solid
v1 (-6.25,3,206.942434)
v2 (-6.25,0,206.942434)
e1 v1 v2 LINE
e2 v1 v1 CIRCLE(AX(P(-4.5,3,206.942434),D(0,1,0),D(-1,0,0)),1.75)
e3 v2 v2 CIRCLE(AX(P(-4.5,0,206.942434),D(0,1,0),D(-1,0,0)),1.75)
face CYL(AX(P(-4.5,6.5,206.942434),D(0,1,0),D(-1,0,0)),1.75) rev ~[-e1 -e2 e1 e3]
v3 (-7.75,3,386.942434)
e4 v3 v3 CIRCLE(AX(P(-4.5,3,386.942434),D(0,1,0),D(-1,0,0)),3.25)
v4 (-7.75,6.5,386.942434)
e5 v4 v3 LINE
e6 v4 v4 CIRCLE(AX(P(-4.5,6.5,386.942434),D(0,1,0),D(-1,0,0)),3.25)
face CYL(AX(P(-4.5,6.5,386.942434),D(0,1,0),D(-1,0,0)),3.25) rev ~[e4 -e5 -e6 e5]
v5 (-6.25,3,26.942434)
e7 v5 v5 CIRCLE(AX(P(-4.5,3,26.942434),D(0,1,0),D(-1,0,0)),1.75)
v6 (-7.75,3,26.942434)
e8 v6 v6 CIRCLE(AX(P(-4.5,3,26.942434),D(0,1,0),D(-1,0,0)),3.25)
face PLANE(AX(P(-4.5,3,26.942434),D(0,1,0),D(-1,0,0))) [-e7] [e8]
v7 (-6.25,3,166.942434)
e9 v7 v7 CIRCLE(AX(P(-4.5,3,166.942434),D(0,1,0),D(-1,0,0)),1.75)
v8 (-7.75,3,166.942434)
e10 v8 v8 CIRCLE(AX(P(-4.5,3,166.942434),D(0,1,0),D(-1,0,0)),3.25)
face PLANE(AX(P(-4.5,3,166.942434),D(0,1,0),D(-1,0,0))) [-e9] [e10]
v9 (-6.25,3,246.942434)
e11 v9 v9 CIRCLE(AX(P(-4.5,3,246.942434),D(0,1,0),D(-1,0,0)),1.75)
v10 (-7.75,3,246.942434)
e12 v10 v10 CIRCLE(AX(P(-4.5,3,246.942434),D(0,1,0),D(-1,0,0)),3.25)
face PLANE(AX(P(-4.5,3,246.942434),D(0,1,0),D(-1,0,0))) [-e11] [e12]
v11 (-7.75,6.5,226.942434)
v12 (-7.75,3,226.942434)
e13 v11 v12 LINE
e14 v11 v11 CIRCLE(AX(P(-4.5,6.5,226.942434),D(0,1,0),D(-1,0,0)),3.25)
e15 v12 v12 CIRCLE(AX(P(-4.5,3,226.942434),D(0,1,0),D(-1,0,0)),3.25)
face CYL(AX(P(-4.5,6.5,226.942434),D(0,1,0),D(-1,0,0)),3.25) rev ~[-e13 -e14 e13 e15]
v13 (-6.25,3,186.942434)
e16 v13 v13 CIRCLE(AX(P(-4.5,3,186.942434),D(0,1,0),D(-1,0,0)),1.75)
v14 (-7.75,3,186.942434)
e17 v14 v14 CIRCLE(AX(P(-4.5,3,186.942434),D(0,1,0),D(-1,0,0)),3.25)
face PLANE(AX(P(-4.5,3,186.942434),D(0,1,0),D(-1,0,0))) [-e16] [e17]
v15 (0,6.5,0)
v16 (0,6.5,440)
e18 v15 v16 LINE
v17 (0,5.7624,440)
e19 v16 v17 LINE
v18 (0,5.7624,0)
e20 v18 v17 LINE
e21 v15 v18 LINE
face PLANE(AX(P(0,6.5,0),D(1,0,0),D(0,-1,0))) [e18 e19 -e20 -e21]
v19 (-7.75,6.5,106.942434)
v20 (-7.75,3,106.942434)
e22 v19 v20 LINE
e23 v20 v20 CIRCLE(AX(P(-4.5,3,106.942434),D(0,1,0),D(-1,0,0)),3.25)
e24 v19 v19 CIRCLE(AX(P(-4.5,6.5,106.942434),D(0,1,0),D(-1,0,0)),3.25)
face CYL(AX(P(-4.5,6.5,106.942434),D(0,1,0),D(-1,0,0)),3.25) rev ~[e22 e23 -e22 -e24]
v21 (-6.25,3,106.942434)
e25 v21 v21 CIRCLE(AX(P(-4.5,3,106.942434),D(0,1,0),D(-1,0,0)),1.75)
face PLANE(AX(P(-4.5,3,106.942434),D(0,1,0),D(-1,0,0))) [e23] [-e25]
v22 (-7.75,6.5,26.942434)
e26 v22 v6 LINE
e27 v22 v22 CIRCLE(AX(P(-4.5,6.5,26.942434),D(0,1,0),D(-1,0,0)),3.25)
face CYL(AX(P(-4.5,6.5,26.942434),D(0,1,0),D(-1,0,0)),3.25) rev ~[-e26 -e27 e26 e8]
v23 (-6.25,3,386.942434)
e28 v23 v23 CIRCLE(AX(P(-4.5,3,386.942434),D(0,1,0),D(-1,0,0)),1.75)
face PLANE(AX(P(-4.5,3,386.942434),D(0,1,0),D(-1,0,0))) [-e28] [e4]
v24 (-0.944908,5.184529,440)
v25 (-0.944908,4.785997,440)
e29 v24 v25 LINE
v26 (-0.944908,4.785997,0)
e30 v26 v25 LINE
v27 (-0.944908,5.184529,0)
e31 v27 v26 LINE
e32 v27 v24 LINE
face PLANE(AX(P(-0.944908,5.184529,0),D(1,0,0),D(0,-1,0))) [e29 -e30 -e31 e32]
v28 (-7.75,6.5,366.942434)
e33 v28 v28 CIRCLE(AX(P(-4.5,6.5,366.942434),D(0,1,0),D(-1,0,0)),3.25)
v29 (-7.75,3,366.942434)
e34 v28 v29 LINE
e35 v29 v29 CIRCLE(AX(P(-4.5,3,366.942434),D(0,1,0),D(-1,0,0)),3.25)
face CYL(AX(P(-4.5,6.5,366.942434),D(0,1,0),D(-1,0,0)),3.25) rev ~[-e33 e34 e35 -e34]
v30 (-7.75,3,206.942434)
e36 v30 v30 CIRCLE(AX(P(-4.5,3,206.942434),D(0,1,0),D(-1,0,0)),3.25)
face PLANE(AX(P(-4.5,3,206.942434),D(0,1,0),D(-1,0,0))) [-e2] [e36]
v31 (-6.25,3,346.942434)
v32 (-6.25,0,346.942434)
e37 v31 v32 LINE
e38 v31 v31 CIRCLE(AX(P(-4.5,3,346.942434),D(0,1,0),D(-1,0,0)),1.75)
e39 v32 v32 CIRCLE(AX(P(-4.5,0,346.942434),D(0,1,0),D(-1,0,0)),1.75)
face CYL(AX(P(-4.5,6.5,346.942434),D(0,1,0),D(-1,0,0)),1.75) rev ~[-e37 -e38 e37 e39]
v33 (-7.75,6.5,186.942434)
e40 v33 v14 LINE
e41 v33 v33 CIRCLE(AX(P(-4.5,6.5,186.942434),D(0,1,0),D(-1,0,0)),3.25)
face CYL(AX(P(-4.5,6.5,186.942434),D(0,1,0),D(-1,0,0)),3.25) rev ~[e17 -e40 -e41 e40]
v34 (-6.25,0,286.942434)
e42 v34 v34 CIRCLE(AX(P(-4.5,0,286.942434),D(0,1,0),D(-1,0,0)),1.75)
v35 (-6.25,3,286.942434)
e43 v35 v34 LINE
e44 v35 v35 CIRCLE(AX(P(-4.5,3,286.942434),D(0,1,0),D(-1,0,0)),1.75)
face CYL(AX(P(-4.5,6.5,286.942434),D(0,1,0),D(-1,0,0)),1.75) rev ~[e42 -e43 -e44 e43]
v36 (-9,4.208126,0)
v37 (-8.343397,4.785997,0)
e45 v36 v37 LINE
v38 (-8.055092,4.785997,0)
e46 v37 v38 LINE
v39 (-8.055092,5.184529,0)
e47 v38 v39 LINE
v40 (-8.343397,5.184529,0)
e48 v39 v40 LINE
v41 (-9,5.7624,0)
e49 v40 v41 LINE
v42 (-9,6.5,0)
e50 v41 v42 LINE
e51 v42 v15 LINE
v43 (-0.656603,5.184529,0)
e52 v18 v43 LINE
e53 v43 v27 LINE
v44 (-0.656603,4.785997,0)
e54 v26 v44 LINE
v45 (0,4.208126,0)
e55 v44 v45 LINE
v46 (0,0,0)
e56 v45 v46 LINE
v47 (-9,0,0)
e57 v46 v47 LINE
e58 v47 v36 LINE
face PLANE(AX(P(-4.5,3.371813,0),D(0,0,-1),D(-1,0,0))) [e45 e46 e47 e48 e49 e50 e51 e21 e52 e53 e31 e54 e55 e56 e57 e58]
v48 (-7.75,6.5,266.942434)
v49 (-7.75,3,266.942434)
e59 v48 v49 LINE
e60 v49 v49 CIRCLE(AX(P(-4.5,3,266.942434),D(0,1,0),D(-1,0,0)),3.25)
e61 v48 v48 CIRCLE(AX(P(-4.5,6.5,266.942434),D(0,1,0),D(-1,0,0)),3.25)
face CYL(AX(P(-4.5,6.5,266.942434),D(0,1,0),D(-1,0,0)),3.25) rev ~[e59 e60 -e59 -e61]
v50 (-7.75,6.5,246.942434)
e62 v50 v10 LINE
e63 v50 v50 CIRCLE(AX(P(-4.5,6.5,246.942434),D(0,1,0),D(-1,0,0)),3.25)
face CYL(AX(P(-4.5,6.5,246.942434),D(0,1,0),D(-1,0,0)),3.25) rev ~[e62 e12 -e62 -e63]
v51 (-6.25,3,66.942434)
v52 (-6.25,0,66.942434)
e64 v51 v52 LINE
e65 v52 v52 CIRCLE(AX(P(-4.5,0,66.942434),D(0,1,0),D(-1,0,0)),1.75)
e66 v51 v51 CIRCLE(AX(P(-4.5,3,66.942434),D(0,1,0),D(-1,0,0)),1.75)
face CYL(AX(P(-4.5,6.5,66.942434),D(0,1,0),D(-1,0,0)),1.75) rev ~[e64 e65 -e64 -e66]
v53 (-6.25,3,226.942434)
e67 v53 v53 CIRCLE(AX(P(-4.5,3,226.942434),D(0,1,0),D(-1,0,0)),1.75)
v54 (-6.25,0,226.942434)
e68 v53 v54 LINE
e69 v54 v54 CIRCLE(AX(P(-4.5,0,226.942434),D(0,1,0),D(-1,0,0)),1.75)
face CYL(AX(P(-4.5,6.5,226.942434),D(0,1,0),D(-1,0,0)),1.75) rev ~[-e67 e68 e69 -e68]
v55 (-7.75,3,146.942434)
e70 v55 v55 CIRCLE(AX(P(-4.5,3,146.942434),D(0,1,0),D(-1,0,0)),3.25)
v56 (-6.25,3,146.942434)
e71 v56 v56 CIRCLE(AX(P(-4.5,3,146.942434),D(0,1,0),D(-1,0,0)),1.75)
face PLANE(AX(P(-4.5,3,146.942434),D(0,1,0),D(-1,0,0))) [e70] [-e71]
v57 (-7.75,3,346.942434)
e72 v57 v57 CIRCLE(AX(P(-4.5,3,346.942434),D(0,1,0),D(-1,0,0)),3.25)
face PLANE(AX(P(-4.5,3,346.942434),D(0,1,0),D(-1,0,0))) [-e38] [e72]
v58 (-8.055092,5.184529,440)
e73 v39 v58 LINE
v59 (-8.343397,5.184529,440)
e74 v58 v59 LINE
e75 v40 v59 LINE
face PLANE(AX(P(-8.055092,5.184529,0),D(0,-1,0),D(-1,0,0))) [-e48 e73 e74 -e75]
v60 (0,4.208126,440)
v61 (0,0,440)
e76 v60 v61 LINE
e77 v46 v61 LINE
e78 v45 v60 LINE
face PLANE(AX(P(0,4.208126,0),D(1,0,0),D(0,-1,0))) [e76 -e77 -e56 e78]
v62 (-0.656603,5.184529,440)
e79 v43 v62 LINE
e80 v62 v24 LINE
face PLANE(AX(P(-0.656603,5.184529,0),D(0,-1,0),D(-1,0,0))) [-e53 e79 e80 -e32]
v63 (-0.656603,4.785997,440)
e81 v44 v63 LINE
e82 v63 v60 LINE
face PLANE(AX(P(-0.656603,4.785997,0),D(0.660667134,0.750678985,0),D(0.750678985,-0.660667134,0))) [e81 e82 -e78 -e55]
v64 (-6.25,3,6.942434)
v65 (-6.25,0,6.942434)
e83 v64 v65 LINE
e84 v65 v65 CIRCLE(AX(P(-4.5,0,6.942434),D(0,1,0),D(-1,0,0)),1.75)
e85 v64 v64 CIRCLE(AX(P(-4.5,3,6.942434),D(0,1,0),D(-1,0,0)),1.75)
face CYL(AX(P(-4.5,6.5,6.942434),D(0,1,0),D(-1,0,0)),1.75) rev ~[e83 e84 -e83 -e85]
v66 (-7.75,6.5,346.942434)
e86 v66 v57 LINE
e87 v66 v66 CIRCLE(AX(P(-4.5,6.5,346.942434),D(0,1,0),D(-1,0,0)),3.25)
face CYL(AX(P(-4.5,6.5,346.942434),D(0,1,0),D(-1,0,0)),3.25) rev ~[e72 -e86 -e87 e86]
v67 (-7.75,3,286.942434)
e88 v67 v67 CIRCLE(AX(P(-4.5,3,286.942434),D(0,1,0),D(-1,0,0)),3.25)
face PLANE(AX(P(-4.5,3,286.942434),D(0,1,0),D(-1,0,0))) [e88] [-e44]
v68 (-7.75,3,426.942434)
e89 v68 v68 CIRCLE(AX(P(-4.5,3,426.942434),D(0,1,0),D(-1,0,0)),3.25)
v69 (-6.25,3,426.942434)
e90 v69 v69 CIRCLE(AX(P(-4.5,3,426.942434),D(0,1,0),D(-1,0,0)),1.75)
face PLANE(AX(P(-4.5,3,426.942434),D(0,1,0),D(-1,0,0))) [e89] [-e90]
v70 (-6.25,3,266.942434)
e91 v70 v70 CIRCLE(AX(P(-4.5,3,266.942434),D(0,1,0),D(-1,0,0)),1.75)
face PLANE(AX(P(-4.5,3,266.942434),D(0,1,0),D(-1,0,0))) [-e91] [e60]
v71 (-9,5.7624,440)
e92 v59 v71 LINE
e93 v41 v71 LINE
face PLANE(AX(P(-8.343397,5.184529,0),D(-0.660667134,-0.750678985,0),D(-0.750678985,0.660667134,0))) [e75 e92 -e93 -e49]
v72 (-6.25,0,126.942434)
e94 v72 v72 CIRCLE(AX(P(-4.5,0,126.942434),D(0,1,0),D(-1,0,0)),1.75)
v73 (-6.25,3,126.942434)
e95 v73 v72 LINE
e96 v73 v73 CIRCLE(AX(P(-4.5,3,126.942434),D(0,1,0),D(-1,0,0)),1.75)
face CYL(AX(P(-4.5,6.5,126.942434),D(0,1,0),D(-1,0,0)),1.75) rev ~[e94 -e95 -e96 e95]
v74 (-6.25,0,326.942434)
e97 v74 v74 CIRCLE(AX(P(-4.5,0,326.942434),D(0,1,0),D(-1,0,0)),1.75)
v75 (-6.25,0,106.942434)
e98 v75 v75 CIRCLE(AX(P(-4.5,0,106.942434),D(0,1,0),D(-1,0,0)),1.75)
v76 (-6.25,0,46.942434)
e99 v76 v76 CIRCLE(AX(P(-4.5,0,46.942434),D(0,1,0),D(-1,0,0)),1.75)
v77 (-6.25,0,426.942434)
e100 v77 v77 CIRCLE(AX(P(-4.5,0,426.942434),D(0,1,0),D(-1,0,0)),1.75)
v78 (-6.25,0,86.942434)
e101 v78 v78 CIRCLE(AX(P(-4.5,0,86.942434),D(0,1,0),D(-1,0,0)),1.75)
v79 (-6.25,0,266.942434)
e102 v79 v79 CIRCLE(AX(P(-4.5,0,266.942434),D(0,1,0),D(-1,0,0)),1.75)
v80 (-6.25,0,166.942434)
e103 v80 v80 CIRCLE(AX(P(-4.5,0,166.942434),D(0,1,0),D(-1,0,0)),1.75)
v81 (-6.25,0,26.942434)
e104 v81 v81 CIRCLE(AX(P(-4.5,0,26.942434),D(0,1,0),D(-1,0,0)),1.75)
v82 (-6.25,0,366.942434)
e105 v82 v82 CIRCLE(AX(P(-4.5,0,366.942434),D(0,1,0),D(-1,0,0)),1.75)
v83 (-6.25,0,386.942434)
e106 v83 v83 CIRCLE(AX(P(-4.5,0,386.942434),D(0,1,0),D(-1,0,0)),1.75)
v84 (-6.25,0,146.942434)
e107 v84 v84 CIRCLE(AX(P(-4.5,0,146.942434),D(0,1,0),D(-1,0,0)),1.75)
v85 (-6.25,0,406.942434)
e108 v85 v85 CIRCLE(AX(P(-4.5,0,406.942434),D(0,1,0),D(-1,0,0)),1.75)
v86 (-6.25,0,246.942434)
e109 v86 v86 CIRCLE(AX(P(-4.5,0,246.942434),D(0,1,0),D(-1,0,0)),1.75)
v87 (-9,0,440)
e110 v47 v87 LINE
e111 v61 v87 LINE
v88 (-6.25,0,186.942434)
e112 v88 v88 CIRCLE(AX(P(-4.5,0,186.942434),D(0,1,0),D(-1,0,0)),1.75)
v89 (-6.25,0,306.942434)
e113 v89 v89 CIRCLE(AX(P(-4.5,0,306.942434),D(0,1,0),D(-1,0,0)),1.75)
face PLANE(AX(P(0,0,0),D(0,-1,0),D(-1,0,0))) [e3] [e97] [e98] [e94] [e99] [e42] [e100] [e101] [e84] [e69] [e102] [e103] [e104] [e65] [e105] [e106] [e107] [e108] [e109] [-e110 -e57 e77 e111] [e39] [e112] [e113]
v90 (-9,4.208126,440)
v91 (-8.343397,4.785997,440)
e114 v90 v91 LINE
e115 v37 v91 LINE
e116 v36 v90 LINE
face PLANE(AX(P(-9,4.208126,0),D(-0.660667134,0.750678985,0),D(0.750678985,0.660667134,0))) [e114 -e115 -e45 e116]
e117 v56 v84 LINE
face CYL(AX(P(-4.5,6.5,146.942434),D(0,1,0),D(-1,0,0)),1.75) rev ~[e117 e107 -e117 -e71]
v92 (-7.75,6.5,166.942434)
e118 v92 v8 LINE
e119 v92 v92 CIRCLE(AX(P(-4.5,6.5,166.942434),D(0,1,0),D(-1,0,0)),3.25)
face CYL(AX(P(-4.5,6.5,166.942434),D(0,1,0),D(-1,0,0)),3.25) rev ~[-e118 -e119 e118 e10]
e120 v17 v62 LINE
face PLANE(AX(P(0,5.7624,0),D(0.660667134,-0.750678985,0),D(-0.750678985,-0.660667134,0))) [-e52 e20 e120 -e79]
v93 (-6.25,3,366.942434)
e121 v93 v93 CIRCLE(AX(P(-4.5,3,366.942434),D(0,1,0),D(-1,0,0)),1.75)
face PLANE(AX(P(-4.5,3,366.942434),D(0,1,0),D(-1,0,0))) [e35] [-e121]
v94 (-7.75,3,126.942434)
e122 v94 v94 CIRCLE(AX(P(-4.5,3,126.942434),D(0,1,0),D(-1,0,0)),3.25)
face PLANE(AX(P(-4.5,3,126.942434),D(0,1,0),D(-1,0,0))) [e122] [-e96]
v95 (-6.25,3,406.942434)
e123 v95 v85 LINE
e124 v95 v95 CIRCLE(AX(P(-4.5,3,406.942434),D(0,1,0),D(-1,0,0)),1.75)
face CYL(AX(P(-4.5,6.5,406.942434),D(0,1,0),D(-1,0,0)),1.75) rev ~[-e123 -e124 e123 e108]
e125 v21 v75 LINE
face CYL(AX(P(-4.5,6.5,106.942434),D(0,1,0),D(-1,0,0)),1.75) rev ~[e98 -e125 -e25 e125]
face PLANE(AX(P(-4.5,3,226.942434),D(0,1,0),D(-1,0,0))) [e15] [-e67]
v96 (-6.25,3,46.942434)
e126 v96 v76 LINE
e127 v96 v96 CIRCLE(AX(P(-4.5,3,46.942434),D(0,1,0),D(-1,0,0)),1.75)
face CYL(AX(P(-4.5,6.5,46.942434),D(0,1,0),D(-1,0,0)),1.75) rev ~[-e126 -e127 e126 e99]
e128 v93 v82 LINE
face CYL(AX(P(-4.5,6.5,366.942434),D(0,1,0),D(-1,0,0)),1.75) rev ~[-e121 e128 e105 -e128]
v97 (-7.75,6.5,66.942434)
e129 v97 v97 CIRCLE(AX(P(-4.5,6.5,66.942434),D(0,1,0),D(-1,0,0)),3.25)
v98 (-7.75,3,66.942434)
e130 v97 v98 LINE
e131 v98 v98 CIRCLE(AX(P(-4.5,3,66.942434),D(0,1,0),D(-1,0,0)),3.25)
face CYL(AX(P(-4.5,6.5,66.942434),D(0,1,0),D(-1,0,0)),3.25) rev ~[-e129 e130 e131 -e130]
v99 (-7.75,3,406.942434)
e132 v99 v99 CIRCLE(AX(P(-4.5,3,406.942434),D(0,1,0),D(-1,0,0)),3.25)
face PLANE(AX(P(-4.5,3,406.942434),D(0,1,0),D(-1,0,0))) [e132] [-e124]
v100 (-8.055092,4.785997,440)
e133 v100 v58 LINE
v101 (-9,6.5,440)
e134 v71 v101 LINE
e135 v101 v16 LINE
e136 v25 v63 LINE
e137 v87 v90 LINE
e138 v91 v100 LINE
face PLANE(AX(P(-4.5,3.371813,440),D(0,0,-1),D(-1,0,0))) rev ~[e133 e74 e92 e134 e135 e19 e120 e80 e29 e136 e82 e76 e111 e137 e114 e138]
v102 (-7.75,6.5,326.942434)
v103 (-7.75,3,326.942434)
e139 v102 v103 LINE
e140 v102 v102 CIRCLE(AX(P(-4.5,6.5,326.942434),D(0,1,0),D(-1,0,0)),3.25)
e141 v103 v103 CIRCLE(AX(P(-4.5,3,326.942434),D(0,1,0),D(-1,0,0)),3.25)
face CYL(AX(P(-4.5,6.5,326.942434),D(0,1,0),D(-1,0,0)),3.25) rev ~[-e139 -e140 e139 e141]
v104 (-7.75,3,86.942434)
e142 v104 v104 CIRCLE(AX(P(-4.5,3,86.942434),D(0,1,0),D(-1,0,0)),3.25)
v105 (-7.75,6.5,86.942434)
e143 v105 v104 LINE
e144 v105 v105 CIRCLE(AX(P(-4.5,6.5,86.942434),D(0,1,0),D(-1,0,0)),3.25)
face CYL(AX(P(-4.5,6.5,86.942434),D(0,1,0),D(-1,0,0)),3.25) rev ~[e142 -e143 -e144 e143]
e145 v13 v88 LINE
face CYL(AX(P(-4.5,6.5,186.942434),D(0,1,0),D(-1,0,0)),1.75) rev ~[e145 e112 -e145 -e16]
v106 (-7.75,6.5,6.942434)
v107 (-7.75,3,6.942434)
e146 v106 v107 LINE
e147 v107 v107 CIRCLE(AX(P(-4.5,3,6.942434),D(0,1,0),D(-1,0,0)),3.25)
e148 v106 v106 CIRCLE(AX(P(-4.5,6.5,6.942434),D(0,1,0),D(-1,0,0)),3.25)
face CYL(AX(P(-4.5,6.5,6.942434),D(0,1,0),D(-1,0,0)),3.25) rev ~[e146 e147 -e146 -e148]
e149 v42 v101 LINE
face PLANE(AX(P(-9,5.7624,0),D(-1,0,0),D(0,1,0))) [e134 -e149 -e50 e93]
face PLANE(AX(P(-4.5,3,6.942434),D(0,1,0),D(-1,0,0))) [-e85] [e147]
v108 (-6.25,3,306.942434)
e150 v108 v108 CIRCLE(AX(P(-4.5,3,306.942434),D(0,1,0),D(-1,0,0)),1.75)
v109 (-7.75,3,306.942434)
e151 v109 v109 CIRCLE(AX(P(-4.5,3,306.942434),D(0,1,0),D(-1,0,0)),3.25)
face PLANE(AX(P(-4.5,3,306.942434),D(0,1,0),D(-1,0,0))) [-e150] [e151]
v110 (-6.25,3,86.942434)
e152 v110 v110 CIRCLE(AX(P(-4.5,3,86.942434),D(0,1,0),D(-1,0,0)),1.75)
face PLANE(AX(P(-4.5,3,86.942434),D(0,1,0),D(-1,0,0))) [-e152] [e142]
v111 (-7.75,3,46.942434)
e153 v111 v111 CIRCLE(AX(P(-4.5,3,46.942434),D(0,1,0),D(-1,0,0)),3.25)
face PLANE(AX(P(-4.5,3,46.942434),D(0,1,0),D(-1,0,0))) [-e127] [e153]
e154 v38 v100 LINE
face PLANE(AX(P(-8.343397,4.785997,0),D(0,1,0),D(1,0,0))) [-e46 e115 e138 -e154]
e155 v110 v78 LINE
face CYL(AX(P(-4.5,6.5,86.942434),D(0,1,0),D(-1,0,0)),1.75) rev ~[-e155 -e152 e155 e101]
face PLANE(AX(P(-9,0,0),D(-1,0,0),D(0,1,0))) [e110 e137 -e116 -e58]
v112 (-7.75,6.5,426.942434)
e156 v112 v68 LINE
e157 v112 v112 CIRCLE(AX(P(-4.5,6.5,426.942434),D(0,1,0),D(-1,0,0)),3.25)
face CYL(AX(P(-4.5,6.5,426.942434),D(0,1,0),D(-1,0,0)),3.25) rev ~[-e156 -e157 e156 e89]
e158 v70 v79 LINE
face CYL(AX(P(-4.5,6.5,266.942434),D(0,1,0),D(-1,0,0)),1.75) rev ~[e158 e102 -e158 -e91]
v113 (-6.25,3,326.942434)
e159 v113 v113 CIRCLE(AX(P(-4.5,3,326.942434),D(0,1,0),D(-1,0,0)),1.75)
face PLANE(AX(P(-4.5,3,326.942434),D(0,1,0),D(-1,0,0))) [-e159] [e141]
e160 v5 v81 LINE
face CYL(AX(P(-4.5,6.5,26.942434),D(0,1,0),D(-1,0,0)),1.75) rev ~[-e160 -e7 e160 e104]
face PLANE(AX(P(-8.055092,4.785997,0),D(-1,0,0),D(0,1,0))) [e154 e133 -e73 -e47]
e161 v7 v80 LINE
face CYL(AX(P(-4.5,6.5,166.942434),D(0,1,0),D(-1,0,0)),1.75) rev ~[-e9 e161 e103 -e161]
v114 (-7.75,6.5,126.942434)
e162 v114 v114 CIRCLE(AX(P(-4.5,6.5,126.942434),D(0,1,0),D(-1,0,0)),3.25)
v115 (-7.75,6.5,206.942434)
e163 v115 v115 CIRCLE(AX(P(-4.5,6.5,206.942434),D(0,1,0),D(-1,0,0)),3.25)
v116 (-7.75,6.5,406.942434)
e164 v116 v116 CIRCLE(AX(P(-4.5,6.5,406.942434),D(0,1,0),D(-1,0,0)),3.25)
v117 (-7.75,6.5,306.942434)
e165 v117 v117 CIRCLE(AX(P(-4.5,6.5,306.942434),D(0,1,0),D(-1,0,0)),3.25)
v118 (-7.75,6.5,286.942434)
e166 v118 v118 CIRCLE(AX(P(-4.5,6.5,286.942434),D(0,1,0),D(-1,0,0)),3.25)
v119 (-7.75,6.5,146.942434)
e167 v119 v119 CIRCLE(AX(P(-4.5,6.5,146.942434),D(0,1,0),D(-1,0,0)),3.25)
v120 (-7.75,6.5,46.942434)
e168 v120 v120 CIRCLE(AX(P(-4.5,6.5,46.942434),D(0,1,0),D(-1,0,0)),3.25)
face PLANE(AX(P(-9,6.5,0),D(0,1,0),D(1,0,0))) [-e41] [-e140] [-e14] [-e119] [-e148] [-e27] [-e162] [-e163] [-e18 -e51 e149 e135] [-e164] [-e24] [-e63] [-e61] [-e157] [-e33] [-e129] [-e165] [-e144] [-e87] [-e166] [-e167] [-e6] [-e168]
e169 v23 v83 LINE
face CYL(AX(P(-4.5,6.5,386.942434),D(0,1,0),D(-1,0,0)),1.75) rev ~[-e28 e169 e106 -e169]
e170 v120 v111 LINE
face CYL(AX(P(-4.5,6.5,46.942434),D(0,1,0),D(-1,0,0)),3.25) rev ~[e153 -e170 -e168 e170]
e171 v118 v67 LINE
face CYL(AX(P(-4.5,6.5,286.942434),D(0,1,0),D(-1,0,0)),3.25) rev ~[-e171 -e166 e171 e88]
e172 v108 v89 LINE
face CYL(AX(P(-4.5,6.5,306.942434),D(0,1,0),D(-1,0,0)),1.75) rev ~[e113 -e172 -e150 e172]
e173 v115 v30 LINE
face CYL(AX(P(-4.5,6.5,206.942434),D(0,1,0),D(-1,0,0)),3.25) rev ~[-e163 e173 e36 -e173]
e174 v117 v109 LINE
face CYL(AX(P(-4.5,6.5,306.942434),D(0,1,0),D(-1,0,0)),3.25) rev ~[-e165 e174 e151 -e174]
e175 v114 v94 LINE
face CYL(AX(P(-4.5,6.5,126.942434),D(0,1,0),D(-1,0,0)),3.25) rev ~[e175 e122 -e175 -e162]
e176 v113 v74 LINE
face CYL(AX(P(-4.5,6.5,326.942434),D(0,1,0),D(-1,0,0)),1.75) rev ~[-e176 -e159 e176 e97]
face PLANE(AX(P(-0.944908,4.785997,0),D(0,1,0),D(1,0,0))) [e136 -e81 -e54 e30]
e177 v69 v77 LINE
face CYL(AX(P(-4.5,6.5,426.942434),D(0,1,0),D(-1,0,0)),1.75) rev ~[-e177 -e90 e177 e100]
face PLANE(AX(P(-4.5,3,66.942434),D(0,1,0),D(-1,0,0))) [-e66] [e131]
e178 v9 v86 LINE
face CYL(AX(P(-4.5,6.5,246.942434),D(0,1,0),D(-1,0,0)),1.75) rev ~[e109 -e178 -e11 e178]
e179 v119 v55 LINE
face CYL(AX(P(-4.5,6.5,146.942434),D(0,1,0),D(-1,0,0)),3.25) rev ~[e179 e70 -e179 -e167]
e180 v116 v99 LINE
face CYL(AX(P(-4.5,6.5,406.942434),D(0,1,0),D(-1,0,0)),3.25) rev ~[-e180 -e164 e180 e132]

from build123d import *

# Parameters (mm, degrees)
EXTRUDE_1_DEPTH     = 440
SKETCH_2_R          = 1.75
CUT_EXTRUDE_3_DEPTH = 440
SKETCH_3_R          = 3.25
CUT_EXTRUDE_4_DEPTH = 3.5


with BuildPart() as part:
    # 草图1 → 凸台-拉伸1 (new body)
    with BuildSketch(Plane.XY):
        Polygon((0, 0), (-9, 0), (-9, 4.208125846), (-8.343397225, 4.785997189), (-8.055092033, 4.785997189), (-8.055092033, 5.184529149), (-8.343397225, 5.184529149), (-9, 5.762400492), (-9, 6.5), (0, 6.5), (0, 5.762400492), (-0.656602775, 5.184529149), (-0.944907967, 5.184529149), (-0.944907967, 4.785997189), (-0.656602775, 4.785997189), (0, 4.208125846), align=None)
    extrude(amount=EXTRUDE_1_DEPTH)

    # 草图2 → 切除-拉伸3 (cut)
    with BuildSketch(Plane(origin=(0, 6.5, 0), x_dir=(1, 0, 0), z_dir=(0, 1, 0))):
        with Locations(Location((-4.5, -6.942433545, 0), (0, 0, 180))):
            Circle(SKETCH_2_R)
        with Locations(Location((-4.5, -26.942433545, 0), (0, 0, 180))):
            Circle(SKETCH_2_R)
        with Locations(Location((-4.5, -46.942433545, 0), (0, 0, 180))):
            Circle(SKETCH_2_R)
        with Locations(Location((-4.5, -66.942433545, 0), (0, 0, 180))):
            Circle(SKETCH_2_R)
        with Locations(Location((-4.5, -86.942433545, 0), (0, 0, 180))):
            Circle(SKETCH_2_R)
        with Locations(Location((-4.5, -106.942433545, 0), (0, 0, 180))):
            Circle(SKETCH_2_R)
        with Locations(Location((-4.5, -126.942433545, 0), (0, 0, 180))):
            Circle(SKETCH_2_R)
        with Locations(Location((-4.5, -146.942433545, 0), (0, 0, 180))):
            Circle(SKETCH_2_R)
        with Locations(Location((-4.5, -166.942433545, 0), (0, 0, 180))):
            Circle(SKETCH_2_R)
        with Locations(Location((-4.5, -186.942433545, 0), (0, 0, 180))):
            Circle(SKETCH_2_R)
        with Locations(Location((-4.5, -206.942433545, 0), (0, 0, 180))):
            Circle(SKETCH_2_R)
        with Locations(Location((-4.5, -226.942433545, 0), (0, 0, 180))):
            Circle(SKETCH_2_R)
        with Locations(Location((-4.5, -246.942433545, 0), (0, 0, 180))):
            Circle(SKETCH_2_R)
        with Locations(Location((-4.5, -266.942433545, 0), (0, 0, 180))):
            Circle(SKETCH_2_R)
        with Locations(Location((-4.5, -286.942433545, 0), (0, 0, 180))):
            Circle(SKETCH_2_R)
        with Locations(Location((-4.5, -306.942433545, 0), (0, 0, 180))):
            Circle(SKETCH_2_R)
        with Locations(Location((-4.5, -326.942433545, 0), (0, 0, 180))):
            Circle(SKETCH_2_R)
        with Locations(Location((-4.5, -346.942433545, 0), (0, 0, 180))):
            Circle(SKETCH_2_R)
        with Locations(Location((-4.5, -366.942433545, 0), (0, 0, 180))):
            Circle(SKETCH_2_R)
        with Locations(Location((-4.5, -386.942433545, 0), (0, 0, 180))):
            Circle(SKETCH_2_R)
        with Locations(Location((-4.5, -406.942433545, 0), (0, 0, 180))):
            Circle(SKETCH_2_R)
        with Locations(Location((-4.5, -426.942433545, 0), (0, 0, 180))):
            Circle(SKETCH_2_R)
    extrude(amount=-CUT_EXTRUDE_3_DEPTH, mode=Mode.SUBTRACT)

    # 草图3 → 切除-拉伸4 (cut)
    with BuildSketch(Plane(origin=(0, 6.5, 0), x_dir=(1, 0, 0), z_dir=(0, 1, 0))):
        with Locations(Location((-4.5, -6.942433545, 0), (0, 0, 180))):
            Circle(SKETCH_3_R)
        with Locations(Location((-4.5, -26.942433545, 0), (0, 0, 180))):
            Circle(SKETCH_3_R)
        with Locations(Location((-4.5, -46.942433545, 0), (0, 0, 180))):
            Circle(SKETCH_3_R)
        with Locations(Location((-4.5, -66.942433545, 0), (0, 0, 180))):
            Circle(SKETCH_3_R)
        with Locations(Location((-4.5, -86.942433545, 0), (0, 0, 180))):
            Circle(SKETCH_3_R)
        with Locations(Location((-4.5, -106.942433545, 0), (0, 0, 180))):
            Circle(SKETCH_3_R)
        with Locations(Location((-4.5, -126.942433545, 0), (0, 0, 180))):
            Circle(SKETCH_3_R)
        with Locations(Location((-4.5, -146.942433545, 0), (0, 0, 180))):
            Circle(SKETCH_3_R)
        with Locations(Location((-4.5, -166.942433545, 0), (0, 0, 180))):
            Circle(SKETCH_3_R)
        with Locations(Location((-4.5, -186.942433545, 0), (0, 0, 180))):
            Circle(SKETCH_3_R)
        with Locations(Location((-4.5, -206.942433545, 0), (0, 0, 180))):
            Circle(SKETCH_3_R)
        with Locations(Location((-4.5, -226.942433545, 0), (0, 0, 180))):
            Circle(SKETCH_3_R)
        with Locations(Location((-4.5, -246.942433545, 0), (0, 0, 180))):
            Circle(SKETCH_3_R)
        with Locations(Location((-4.5, -266.942433545, 0), (0, 0, 180))):
            Circle(SKETCH_3_R)
        with Locations(Location((-4.5, -286.942433545, 0), (0, 0, 180))):
            Circle(SKETCH_3_R)
        with Locations(Location((-4.5, -306.942433545, 0), (0, 0, 180))):
            Circle(SKETCH_3_R)
        with Locations(Location((-4.5, -326.942433545, 0), (0, 0, 180))):
            Circle(SKETCH_3_R)
        with Locations(Location((-4.5, -346.942433545, 0), (0, 0, 180))):
            Circle(SKETCH_3_R)
        with Locations(Location((-4.5, -366.942433545, 0), (0, 0, 180))):
            Circle(SKETCH_3_R)
        with Locations(Location((-4.5, -386.942433545, 0), (0, 0, 180))):
            Circle(SKETCH_3_R)
        with Locations(Location((-4.5, -406.942433545, 0), (0, 0, 180))):
            Circle(SKETCH_3_R)
        with Locations(Location((-4.5, -426.942433545, 0), (0, 0, 180))):
            Circle(SKETCH_3_R)
        with Locations((-4.5, -446.942433545)):
            Circle(SKETCH_3_R)
        with Locations((-4.5, -466.942433545)):
            Circle(SKETCH_3_R)
        with Locations((-4.5, -486.942433545)):
            Circle(SKETCH_3_R)
        with Locations((-4.5, -506.942433545)):
            Circle(SKETCH_3_R)
        with Locations((-4.5, -526.942433545)):
            Circle(SKETCH_3_R)
        with Locations((-4.5, -546.942433545)):
            Circle(SKETCH_3_R)
        with Locations((-4.5, -566.942433545)):
            Circle(SKETCH_3_R)
        with Locations((-4.5, -586.942433545)):
            Circle(SKETCH_3_R)
        with Locations((-4.5, -606.942433545)):
            Circle(SKETCH_3_R)
    extrude(amount=-CUT_EXTRUDE_4_DEPTH, mode=Mode.SUBTRACT)


solid = part.part
